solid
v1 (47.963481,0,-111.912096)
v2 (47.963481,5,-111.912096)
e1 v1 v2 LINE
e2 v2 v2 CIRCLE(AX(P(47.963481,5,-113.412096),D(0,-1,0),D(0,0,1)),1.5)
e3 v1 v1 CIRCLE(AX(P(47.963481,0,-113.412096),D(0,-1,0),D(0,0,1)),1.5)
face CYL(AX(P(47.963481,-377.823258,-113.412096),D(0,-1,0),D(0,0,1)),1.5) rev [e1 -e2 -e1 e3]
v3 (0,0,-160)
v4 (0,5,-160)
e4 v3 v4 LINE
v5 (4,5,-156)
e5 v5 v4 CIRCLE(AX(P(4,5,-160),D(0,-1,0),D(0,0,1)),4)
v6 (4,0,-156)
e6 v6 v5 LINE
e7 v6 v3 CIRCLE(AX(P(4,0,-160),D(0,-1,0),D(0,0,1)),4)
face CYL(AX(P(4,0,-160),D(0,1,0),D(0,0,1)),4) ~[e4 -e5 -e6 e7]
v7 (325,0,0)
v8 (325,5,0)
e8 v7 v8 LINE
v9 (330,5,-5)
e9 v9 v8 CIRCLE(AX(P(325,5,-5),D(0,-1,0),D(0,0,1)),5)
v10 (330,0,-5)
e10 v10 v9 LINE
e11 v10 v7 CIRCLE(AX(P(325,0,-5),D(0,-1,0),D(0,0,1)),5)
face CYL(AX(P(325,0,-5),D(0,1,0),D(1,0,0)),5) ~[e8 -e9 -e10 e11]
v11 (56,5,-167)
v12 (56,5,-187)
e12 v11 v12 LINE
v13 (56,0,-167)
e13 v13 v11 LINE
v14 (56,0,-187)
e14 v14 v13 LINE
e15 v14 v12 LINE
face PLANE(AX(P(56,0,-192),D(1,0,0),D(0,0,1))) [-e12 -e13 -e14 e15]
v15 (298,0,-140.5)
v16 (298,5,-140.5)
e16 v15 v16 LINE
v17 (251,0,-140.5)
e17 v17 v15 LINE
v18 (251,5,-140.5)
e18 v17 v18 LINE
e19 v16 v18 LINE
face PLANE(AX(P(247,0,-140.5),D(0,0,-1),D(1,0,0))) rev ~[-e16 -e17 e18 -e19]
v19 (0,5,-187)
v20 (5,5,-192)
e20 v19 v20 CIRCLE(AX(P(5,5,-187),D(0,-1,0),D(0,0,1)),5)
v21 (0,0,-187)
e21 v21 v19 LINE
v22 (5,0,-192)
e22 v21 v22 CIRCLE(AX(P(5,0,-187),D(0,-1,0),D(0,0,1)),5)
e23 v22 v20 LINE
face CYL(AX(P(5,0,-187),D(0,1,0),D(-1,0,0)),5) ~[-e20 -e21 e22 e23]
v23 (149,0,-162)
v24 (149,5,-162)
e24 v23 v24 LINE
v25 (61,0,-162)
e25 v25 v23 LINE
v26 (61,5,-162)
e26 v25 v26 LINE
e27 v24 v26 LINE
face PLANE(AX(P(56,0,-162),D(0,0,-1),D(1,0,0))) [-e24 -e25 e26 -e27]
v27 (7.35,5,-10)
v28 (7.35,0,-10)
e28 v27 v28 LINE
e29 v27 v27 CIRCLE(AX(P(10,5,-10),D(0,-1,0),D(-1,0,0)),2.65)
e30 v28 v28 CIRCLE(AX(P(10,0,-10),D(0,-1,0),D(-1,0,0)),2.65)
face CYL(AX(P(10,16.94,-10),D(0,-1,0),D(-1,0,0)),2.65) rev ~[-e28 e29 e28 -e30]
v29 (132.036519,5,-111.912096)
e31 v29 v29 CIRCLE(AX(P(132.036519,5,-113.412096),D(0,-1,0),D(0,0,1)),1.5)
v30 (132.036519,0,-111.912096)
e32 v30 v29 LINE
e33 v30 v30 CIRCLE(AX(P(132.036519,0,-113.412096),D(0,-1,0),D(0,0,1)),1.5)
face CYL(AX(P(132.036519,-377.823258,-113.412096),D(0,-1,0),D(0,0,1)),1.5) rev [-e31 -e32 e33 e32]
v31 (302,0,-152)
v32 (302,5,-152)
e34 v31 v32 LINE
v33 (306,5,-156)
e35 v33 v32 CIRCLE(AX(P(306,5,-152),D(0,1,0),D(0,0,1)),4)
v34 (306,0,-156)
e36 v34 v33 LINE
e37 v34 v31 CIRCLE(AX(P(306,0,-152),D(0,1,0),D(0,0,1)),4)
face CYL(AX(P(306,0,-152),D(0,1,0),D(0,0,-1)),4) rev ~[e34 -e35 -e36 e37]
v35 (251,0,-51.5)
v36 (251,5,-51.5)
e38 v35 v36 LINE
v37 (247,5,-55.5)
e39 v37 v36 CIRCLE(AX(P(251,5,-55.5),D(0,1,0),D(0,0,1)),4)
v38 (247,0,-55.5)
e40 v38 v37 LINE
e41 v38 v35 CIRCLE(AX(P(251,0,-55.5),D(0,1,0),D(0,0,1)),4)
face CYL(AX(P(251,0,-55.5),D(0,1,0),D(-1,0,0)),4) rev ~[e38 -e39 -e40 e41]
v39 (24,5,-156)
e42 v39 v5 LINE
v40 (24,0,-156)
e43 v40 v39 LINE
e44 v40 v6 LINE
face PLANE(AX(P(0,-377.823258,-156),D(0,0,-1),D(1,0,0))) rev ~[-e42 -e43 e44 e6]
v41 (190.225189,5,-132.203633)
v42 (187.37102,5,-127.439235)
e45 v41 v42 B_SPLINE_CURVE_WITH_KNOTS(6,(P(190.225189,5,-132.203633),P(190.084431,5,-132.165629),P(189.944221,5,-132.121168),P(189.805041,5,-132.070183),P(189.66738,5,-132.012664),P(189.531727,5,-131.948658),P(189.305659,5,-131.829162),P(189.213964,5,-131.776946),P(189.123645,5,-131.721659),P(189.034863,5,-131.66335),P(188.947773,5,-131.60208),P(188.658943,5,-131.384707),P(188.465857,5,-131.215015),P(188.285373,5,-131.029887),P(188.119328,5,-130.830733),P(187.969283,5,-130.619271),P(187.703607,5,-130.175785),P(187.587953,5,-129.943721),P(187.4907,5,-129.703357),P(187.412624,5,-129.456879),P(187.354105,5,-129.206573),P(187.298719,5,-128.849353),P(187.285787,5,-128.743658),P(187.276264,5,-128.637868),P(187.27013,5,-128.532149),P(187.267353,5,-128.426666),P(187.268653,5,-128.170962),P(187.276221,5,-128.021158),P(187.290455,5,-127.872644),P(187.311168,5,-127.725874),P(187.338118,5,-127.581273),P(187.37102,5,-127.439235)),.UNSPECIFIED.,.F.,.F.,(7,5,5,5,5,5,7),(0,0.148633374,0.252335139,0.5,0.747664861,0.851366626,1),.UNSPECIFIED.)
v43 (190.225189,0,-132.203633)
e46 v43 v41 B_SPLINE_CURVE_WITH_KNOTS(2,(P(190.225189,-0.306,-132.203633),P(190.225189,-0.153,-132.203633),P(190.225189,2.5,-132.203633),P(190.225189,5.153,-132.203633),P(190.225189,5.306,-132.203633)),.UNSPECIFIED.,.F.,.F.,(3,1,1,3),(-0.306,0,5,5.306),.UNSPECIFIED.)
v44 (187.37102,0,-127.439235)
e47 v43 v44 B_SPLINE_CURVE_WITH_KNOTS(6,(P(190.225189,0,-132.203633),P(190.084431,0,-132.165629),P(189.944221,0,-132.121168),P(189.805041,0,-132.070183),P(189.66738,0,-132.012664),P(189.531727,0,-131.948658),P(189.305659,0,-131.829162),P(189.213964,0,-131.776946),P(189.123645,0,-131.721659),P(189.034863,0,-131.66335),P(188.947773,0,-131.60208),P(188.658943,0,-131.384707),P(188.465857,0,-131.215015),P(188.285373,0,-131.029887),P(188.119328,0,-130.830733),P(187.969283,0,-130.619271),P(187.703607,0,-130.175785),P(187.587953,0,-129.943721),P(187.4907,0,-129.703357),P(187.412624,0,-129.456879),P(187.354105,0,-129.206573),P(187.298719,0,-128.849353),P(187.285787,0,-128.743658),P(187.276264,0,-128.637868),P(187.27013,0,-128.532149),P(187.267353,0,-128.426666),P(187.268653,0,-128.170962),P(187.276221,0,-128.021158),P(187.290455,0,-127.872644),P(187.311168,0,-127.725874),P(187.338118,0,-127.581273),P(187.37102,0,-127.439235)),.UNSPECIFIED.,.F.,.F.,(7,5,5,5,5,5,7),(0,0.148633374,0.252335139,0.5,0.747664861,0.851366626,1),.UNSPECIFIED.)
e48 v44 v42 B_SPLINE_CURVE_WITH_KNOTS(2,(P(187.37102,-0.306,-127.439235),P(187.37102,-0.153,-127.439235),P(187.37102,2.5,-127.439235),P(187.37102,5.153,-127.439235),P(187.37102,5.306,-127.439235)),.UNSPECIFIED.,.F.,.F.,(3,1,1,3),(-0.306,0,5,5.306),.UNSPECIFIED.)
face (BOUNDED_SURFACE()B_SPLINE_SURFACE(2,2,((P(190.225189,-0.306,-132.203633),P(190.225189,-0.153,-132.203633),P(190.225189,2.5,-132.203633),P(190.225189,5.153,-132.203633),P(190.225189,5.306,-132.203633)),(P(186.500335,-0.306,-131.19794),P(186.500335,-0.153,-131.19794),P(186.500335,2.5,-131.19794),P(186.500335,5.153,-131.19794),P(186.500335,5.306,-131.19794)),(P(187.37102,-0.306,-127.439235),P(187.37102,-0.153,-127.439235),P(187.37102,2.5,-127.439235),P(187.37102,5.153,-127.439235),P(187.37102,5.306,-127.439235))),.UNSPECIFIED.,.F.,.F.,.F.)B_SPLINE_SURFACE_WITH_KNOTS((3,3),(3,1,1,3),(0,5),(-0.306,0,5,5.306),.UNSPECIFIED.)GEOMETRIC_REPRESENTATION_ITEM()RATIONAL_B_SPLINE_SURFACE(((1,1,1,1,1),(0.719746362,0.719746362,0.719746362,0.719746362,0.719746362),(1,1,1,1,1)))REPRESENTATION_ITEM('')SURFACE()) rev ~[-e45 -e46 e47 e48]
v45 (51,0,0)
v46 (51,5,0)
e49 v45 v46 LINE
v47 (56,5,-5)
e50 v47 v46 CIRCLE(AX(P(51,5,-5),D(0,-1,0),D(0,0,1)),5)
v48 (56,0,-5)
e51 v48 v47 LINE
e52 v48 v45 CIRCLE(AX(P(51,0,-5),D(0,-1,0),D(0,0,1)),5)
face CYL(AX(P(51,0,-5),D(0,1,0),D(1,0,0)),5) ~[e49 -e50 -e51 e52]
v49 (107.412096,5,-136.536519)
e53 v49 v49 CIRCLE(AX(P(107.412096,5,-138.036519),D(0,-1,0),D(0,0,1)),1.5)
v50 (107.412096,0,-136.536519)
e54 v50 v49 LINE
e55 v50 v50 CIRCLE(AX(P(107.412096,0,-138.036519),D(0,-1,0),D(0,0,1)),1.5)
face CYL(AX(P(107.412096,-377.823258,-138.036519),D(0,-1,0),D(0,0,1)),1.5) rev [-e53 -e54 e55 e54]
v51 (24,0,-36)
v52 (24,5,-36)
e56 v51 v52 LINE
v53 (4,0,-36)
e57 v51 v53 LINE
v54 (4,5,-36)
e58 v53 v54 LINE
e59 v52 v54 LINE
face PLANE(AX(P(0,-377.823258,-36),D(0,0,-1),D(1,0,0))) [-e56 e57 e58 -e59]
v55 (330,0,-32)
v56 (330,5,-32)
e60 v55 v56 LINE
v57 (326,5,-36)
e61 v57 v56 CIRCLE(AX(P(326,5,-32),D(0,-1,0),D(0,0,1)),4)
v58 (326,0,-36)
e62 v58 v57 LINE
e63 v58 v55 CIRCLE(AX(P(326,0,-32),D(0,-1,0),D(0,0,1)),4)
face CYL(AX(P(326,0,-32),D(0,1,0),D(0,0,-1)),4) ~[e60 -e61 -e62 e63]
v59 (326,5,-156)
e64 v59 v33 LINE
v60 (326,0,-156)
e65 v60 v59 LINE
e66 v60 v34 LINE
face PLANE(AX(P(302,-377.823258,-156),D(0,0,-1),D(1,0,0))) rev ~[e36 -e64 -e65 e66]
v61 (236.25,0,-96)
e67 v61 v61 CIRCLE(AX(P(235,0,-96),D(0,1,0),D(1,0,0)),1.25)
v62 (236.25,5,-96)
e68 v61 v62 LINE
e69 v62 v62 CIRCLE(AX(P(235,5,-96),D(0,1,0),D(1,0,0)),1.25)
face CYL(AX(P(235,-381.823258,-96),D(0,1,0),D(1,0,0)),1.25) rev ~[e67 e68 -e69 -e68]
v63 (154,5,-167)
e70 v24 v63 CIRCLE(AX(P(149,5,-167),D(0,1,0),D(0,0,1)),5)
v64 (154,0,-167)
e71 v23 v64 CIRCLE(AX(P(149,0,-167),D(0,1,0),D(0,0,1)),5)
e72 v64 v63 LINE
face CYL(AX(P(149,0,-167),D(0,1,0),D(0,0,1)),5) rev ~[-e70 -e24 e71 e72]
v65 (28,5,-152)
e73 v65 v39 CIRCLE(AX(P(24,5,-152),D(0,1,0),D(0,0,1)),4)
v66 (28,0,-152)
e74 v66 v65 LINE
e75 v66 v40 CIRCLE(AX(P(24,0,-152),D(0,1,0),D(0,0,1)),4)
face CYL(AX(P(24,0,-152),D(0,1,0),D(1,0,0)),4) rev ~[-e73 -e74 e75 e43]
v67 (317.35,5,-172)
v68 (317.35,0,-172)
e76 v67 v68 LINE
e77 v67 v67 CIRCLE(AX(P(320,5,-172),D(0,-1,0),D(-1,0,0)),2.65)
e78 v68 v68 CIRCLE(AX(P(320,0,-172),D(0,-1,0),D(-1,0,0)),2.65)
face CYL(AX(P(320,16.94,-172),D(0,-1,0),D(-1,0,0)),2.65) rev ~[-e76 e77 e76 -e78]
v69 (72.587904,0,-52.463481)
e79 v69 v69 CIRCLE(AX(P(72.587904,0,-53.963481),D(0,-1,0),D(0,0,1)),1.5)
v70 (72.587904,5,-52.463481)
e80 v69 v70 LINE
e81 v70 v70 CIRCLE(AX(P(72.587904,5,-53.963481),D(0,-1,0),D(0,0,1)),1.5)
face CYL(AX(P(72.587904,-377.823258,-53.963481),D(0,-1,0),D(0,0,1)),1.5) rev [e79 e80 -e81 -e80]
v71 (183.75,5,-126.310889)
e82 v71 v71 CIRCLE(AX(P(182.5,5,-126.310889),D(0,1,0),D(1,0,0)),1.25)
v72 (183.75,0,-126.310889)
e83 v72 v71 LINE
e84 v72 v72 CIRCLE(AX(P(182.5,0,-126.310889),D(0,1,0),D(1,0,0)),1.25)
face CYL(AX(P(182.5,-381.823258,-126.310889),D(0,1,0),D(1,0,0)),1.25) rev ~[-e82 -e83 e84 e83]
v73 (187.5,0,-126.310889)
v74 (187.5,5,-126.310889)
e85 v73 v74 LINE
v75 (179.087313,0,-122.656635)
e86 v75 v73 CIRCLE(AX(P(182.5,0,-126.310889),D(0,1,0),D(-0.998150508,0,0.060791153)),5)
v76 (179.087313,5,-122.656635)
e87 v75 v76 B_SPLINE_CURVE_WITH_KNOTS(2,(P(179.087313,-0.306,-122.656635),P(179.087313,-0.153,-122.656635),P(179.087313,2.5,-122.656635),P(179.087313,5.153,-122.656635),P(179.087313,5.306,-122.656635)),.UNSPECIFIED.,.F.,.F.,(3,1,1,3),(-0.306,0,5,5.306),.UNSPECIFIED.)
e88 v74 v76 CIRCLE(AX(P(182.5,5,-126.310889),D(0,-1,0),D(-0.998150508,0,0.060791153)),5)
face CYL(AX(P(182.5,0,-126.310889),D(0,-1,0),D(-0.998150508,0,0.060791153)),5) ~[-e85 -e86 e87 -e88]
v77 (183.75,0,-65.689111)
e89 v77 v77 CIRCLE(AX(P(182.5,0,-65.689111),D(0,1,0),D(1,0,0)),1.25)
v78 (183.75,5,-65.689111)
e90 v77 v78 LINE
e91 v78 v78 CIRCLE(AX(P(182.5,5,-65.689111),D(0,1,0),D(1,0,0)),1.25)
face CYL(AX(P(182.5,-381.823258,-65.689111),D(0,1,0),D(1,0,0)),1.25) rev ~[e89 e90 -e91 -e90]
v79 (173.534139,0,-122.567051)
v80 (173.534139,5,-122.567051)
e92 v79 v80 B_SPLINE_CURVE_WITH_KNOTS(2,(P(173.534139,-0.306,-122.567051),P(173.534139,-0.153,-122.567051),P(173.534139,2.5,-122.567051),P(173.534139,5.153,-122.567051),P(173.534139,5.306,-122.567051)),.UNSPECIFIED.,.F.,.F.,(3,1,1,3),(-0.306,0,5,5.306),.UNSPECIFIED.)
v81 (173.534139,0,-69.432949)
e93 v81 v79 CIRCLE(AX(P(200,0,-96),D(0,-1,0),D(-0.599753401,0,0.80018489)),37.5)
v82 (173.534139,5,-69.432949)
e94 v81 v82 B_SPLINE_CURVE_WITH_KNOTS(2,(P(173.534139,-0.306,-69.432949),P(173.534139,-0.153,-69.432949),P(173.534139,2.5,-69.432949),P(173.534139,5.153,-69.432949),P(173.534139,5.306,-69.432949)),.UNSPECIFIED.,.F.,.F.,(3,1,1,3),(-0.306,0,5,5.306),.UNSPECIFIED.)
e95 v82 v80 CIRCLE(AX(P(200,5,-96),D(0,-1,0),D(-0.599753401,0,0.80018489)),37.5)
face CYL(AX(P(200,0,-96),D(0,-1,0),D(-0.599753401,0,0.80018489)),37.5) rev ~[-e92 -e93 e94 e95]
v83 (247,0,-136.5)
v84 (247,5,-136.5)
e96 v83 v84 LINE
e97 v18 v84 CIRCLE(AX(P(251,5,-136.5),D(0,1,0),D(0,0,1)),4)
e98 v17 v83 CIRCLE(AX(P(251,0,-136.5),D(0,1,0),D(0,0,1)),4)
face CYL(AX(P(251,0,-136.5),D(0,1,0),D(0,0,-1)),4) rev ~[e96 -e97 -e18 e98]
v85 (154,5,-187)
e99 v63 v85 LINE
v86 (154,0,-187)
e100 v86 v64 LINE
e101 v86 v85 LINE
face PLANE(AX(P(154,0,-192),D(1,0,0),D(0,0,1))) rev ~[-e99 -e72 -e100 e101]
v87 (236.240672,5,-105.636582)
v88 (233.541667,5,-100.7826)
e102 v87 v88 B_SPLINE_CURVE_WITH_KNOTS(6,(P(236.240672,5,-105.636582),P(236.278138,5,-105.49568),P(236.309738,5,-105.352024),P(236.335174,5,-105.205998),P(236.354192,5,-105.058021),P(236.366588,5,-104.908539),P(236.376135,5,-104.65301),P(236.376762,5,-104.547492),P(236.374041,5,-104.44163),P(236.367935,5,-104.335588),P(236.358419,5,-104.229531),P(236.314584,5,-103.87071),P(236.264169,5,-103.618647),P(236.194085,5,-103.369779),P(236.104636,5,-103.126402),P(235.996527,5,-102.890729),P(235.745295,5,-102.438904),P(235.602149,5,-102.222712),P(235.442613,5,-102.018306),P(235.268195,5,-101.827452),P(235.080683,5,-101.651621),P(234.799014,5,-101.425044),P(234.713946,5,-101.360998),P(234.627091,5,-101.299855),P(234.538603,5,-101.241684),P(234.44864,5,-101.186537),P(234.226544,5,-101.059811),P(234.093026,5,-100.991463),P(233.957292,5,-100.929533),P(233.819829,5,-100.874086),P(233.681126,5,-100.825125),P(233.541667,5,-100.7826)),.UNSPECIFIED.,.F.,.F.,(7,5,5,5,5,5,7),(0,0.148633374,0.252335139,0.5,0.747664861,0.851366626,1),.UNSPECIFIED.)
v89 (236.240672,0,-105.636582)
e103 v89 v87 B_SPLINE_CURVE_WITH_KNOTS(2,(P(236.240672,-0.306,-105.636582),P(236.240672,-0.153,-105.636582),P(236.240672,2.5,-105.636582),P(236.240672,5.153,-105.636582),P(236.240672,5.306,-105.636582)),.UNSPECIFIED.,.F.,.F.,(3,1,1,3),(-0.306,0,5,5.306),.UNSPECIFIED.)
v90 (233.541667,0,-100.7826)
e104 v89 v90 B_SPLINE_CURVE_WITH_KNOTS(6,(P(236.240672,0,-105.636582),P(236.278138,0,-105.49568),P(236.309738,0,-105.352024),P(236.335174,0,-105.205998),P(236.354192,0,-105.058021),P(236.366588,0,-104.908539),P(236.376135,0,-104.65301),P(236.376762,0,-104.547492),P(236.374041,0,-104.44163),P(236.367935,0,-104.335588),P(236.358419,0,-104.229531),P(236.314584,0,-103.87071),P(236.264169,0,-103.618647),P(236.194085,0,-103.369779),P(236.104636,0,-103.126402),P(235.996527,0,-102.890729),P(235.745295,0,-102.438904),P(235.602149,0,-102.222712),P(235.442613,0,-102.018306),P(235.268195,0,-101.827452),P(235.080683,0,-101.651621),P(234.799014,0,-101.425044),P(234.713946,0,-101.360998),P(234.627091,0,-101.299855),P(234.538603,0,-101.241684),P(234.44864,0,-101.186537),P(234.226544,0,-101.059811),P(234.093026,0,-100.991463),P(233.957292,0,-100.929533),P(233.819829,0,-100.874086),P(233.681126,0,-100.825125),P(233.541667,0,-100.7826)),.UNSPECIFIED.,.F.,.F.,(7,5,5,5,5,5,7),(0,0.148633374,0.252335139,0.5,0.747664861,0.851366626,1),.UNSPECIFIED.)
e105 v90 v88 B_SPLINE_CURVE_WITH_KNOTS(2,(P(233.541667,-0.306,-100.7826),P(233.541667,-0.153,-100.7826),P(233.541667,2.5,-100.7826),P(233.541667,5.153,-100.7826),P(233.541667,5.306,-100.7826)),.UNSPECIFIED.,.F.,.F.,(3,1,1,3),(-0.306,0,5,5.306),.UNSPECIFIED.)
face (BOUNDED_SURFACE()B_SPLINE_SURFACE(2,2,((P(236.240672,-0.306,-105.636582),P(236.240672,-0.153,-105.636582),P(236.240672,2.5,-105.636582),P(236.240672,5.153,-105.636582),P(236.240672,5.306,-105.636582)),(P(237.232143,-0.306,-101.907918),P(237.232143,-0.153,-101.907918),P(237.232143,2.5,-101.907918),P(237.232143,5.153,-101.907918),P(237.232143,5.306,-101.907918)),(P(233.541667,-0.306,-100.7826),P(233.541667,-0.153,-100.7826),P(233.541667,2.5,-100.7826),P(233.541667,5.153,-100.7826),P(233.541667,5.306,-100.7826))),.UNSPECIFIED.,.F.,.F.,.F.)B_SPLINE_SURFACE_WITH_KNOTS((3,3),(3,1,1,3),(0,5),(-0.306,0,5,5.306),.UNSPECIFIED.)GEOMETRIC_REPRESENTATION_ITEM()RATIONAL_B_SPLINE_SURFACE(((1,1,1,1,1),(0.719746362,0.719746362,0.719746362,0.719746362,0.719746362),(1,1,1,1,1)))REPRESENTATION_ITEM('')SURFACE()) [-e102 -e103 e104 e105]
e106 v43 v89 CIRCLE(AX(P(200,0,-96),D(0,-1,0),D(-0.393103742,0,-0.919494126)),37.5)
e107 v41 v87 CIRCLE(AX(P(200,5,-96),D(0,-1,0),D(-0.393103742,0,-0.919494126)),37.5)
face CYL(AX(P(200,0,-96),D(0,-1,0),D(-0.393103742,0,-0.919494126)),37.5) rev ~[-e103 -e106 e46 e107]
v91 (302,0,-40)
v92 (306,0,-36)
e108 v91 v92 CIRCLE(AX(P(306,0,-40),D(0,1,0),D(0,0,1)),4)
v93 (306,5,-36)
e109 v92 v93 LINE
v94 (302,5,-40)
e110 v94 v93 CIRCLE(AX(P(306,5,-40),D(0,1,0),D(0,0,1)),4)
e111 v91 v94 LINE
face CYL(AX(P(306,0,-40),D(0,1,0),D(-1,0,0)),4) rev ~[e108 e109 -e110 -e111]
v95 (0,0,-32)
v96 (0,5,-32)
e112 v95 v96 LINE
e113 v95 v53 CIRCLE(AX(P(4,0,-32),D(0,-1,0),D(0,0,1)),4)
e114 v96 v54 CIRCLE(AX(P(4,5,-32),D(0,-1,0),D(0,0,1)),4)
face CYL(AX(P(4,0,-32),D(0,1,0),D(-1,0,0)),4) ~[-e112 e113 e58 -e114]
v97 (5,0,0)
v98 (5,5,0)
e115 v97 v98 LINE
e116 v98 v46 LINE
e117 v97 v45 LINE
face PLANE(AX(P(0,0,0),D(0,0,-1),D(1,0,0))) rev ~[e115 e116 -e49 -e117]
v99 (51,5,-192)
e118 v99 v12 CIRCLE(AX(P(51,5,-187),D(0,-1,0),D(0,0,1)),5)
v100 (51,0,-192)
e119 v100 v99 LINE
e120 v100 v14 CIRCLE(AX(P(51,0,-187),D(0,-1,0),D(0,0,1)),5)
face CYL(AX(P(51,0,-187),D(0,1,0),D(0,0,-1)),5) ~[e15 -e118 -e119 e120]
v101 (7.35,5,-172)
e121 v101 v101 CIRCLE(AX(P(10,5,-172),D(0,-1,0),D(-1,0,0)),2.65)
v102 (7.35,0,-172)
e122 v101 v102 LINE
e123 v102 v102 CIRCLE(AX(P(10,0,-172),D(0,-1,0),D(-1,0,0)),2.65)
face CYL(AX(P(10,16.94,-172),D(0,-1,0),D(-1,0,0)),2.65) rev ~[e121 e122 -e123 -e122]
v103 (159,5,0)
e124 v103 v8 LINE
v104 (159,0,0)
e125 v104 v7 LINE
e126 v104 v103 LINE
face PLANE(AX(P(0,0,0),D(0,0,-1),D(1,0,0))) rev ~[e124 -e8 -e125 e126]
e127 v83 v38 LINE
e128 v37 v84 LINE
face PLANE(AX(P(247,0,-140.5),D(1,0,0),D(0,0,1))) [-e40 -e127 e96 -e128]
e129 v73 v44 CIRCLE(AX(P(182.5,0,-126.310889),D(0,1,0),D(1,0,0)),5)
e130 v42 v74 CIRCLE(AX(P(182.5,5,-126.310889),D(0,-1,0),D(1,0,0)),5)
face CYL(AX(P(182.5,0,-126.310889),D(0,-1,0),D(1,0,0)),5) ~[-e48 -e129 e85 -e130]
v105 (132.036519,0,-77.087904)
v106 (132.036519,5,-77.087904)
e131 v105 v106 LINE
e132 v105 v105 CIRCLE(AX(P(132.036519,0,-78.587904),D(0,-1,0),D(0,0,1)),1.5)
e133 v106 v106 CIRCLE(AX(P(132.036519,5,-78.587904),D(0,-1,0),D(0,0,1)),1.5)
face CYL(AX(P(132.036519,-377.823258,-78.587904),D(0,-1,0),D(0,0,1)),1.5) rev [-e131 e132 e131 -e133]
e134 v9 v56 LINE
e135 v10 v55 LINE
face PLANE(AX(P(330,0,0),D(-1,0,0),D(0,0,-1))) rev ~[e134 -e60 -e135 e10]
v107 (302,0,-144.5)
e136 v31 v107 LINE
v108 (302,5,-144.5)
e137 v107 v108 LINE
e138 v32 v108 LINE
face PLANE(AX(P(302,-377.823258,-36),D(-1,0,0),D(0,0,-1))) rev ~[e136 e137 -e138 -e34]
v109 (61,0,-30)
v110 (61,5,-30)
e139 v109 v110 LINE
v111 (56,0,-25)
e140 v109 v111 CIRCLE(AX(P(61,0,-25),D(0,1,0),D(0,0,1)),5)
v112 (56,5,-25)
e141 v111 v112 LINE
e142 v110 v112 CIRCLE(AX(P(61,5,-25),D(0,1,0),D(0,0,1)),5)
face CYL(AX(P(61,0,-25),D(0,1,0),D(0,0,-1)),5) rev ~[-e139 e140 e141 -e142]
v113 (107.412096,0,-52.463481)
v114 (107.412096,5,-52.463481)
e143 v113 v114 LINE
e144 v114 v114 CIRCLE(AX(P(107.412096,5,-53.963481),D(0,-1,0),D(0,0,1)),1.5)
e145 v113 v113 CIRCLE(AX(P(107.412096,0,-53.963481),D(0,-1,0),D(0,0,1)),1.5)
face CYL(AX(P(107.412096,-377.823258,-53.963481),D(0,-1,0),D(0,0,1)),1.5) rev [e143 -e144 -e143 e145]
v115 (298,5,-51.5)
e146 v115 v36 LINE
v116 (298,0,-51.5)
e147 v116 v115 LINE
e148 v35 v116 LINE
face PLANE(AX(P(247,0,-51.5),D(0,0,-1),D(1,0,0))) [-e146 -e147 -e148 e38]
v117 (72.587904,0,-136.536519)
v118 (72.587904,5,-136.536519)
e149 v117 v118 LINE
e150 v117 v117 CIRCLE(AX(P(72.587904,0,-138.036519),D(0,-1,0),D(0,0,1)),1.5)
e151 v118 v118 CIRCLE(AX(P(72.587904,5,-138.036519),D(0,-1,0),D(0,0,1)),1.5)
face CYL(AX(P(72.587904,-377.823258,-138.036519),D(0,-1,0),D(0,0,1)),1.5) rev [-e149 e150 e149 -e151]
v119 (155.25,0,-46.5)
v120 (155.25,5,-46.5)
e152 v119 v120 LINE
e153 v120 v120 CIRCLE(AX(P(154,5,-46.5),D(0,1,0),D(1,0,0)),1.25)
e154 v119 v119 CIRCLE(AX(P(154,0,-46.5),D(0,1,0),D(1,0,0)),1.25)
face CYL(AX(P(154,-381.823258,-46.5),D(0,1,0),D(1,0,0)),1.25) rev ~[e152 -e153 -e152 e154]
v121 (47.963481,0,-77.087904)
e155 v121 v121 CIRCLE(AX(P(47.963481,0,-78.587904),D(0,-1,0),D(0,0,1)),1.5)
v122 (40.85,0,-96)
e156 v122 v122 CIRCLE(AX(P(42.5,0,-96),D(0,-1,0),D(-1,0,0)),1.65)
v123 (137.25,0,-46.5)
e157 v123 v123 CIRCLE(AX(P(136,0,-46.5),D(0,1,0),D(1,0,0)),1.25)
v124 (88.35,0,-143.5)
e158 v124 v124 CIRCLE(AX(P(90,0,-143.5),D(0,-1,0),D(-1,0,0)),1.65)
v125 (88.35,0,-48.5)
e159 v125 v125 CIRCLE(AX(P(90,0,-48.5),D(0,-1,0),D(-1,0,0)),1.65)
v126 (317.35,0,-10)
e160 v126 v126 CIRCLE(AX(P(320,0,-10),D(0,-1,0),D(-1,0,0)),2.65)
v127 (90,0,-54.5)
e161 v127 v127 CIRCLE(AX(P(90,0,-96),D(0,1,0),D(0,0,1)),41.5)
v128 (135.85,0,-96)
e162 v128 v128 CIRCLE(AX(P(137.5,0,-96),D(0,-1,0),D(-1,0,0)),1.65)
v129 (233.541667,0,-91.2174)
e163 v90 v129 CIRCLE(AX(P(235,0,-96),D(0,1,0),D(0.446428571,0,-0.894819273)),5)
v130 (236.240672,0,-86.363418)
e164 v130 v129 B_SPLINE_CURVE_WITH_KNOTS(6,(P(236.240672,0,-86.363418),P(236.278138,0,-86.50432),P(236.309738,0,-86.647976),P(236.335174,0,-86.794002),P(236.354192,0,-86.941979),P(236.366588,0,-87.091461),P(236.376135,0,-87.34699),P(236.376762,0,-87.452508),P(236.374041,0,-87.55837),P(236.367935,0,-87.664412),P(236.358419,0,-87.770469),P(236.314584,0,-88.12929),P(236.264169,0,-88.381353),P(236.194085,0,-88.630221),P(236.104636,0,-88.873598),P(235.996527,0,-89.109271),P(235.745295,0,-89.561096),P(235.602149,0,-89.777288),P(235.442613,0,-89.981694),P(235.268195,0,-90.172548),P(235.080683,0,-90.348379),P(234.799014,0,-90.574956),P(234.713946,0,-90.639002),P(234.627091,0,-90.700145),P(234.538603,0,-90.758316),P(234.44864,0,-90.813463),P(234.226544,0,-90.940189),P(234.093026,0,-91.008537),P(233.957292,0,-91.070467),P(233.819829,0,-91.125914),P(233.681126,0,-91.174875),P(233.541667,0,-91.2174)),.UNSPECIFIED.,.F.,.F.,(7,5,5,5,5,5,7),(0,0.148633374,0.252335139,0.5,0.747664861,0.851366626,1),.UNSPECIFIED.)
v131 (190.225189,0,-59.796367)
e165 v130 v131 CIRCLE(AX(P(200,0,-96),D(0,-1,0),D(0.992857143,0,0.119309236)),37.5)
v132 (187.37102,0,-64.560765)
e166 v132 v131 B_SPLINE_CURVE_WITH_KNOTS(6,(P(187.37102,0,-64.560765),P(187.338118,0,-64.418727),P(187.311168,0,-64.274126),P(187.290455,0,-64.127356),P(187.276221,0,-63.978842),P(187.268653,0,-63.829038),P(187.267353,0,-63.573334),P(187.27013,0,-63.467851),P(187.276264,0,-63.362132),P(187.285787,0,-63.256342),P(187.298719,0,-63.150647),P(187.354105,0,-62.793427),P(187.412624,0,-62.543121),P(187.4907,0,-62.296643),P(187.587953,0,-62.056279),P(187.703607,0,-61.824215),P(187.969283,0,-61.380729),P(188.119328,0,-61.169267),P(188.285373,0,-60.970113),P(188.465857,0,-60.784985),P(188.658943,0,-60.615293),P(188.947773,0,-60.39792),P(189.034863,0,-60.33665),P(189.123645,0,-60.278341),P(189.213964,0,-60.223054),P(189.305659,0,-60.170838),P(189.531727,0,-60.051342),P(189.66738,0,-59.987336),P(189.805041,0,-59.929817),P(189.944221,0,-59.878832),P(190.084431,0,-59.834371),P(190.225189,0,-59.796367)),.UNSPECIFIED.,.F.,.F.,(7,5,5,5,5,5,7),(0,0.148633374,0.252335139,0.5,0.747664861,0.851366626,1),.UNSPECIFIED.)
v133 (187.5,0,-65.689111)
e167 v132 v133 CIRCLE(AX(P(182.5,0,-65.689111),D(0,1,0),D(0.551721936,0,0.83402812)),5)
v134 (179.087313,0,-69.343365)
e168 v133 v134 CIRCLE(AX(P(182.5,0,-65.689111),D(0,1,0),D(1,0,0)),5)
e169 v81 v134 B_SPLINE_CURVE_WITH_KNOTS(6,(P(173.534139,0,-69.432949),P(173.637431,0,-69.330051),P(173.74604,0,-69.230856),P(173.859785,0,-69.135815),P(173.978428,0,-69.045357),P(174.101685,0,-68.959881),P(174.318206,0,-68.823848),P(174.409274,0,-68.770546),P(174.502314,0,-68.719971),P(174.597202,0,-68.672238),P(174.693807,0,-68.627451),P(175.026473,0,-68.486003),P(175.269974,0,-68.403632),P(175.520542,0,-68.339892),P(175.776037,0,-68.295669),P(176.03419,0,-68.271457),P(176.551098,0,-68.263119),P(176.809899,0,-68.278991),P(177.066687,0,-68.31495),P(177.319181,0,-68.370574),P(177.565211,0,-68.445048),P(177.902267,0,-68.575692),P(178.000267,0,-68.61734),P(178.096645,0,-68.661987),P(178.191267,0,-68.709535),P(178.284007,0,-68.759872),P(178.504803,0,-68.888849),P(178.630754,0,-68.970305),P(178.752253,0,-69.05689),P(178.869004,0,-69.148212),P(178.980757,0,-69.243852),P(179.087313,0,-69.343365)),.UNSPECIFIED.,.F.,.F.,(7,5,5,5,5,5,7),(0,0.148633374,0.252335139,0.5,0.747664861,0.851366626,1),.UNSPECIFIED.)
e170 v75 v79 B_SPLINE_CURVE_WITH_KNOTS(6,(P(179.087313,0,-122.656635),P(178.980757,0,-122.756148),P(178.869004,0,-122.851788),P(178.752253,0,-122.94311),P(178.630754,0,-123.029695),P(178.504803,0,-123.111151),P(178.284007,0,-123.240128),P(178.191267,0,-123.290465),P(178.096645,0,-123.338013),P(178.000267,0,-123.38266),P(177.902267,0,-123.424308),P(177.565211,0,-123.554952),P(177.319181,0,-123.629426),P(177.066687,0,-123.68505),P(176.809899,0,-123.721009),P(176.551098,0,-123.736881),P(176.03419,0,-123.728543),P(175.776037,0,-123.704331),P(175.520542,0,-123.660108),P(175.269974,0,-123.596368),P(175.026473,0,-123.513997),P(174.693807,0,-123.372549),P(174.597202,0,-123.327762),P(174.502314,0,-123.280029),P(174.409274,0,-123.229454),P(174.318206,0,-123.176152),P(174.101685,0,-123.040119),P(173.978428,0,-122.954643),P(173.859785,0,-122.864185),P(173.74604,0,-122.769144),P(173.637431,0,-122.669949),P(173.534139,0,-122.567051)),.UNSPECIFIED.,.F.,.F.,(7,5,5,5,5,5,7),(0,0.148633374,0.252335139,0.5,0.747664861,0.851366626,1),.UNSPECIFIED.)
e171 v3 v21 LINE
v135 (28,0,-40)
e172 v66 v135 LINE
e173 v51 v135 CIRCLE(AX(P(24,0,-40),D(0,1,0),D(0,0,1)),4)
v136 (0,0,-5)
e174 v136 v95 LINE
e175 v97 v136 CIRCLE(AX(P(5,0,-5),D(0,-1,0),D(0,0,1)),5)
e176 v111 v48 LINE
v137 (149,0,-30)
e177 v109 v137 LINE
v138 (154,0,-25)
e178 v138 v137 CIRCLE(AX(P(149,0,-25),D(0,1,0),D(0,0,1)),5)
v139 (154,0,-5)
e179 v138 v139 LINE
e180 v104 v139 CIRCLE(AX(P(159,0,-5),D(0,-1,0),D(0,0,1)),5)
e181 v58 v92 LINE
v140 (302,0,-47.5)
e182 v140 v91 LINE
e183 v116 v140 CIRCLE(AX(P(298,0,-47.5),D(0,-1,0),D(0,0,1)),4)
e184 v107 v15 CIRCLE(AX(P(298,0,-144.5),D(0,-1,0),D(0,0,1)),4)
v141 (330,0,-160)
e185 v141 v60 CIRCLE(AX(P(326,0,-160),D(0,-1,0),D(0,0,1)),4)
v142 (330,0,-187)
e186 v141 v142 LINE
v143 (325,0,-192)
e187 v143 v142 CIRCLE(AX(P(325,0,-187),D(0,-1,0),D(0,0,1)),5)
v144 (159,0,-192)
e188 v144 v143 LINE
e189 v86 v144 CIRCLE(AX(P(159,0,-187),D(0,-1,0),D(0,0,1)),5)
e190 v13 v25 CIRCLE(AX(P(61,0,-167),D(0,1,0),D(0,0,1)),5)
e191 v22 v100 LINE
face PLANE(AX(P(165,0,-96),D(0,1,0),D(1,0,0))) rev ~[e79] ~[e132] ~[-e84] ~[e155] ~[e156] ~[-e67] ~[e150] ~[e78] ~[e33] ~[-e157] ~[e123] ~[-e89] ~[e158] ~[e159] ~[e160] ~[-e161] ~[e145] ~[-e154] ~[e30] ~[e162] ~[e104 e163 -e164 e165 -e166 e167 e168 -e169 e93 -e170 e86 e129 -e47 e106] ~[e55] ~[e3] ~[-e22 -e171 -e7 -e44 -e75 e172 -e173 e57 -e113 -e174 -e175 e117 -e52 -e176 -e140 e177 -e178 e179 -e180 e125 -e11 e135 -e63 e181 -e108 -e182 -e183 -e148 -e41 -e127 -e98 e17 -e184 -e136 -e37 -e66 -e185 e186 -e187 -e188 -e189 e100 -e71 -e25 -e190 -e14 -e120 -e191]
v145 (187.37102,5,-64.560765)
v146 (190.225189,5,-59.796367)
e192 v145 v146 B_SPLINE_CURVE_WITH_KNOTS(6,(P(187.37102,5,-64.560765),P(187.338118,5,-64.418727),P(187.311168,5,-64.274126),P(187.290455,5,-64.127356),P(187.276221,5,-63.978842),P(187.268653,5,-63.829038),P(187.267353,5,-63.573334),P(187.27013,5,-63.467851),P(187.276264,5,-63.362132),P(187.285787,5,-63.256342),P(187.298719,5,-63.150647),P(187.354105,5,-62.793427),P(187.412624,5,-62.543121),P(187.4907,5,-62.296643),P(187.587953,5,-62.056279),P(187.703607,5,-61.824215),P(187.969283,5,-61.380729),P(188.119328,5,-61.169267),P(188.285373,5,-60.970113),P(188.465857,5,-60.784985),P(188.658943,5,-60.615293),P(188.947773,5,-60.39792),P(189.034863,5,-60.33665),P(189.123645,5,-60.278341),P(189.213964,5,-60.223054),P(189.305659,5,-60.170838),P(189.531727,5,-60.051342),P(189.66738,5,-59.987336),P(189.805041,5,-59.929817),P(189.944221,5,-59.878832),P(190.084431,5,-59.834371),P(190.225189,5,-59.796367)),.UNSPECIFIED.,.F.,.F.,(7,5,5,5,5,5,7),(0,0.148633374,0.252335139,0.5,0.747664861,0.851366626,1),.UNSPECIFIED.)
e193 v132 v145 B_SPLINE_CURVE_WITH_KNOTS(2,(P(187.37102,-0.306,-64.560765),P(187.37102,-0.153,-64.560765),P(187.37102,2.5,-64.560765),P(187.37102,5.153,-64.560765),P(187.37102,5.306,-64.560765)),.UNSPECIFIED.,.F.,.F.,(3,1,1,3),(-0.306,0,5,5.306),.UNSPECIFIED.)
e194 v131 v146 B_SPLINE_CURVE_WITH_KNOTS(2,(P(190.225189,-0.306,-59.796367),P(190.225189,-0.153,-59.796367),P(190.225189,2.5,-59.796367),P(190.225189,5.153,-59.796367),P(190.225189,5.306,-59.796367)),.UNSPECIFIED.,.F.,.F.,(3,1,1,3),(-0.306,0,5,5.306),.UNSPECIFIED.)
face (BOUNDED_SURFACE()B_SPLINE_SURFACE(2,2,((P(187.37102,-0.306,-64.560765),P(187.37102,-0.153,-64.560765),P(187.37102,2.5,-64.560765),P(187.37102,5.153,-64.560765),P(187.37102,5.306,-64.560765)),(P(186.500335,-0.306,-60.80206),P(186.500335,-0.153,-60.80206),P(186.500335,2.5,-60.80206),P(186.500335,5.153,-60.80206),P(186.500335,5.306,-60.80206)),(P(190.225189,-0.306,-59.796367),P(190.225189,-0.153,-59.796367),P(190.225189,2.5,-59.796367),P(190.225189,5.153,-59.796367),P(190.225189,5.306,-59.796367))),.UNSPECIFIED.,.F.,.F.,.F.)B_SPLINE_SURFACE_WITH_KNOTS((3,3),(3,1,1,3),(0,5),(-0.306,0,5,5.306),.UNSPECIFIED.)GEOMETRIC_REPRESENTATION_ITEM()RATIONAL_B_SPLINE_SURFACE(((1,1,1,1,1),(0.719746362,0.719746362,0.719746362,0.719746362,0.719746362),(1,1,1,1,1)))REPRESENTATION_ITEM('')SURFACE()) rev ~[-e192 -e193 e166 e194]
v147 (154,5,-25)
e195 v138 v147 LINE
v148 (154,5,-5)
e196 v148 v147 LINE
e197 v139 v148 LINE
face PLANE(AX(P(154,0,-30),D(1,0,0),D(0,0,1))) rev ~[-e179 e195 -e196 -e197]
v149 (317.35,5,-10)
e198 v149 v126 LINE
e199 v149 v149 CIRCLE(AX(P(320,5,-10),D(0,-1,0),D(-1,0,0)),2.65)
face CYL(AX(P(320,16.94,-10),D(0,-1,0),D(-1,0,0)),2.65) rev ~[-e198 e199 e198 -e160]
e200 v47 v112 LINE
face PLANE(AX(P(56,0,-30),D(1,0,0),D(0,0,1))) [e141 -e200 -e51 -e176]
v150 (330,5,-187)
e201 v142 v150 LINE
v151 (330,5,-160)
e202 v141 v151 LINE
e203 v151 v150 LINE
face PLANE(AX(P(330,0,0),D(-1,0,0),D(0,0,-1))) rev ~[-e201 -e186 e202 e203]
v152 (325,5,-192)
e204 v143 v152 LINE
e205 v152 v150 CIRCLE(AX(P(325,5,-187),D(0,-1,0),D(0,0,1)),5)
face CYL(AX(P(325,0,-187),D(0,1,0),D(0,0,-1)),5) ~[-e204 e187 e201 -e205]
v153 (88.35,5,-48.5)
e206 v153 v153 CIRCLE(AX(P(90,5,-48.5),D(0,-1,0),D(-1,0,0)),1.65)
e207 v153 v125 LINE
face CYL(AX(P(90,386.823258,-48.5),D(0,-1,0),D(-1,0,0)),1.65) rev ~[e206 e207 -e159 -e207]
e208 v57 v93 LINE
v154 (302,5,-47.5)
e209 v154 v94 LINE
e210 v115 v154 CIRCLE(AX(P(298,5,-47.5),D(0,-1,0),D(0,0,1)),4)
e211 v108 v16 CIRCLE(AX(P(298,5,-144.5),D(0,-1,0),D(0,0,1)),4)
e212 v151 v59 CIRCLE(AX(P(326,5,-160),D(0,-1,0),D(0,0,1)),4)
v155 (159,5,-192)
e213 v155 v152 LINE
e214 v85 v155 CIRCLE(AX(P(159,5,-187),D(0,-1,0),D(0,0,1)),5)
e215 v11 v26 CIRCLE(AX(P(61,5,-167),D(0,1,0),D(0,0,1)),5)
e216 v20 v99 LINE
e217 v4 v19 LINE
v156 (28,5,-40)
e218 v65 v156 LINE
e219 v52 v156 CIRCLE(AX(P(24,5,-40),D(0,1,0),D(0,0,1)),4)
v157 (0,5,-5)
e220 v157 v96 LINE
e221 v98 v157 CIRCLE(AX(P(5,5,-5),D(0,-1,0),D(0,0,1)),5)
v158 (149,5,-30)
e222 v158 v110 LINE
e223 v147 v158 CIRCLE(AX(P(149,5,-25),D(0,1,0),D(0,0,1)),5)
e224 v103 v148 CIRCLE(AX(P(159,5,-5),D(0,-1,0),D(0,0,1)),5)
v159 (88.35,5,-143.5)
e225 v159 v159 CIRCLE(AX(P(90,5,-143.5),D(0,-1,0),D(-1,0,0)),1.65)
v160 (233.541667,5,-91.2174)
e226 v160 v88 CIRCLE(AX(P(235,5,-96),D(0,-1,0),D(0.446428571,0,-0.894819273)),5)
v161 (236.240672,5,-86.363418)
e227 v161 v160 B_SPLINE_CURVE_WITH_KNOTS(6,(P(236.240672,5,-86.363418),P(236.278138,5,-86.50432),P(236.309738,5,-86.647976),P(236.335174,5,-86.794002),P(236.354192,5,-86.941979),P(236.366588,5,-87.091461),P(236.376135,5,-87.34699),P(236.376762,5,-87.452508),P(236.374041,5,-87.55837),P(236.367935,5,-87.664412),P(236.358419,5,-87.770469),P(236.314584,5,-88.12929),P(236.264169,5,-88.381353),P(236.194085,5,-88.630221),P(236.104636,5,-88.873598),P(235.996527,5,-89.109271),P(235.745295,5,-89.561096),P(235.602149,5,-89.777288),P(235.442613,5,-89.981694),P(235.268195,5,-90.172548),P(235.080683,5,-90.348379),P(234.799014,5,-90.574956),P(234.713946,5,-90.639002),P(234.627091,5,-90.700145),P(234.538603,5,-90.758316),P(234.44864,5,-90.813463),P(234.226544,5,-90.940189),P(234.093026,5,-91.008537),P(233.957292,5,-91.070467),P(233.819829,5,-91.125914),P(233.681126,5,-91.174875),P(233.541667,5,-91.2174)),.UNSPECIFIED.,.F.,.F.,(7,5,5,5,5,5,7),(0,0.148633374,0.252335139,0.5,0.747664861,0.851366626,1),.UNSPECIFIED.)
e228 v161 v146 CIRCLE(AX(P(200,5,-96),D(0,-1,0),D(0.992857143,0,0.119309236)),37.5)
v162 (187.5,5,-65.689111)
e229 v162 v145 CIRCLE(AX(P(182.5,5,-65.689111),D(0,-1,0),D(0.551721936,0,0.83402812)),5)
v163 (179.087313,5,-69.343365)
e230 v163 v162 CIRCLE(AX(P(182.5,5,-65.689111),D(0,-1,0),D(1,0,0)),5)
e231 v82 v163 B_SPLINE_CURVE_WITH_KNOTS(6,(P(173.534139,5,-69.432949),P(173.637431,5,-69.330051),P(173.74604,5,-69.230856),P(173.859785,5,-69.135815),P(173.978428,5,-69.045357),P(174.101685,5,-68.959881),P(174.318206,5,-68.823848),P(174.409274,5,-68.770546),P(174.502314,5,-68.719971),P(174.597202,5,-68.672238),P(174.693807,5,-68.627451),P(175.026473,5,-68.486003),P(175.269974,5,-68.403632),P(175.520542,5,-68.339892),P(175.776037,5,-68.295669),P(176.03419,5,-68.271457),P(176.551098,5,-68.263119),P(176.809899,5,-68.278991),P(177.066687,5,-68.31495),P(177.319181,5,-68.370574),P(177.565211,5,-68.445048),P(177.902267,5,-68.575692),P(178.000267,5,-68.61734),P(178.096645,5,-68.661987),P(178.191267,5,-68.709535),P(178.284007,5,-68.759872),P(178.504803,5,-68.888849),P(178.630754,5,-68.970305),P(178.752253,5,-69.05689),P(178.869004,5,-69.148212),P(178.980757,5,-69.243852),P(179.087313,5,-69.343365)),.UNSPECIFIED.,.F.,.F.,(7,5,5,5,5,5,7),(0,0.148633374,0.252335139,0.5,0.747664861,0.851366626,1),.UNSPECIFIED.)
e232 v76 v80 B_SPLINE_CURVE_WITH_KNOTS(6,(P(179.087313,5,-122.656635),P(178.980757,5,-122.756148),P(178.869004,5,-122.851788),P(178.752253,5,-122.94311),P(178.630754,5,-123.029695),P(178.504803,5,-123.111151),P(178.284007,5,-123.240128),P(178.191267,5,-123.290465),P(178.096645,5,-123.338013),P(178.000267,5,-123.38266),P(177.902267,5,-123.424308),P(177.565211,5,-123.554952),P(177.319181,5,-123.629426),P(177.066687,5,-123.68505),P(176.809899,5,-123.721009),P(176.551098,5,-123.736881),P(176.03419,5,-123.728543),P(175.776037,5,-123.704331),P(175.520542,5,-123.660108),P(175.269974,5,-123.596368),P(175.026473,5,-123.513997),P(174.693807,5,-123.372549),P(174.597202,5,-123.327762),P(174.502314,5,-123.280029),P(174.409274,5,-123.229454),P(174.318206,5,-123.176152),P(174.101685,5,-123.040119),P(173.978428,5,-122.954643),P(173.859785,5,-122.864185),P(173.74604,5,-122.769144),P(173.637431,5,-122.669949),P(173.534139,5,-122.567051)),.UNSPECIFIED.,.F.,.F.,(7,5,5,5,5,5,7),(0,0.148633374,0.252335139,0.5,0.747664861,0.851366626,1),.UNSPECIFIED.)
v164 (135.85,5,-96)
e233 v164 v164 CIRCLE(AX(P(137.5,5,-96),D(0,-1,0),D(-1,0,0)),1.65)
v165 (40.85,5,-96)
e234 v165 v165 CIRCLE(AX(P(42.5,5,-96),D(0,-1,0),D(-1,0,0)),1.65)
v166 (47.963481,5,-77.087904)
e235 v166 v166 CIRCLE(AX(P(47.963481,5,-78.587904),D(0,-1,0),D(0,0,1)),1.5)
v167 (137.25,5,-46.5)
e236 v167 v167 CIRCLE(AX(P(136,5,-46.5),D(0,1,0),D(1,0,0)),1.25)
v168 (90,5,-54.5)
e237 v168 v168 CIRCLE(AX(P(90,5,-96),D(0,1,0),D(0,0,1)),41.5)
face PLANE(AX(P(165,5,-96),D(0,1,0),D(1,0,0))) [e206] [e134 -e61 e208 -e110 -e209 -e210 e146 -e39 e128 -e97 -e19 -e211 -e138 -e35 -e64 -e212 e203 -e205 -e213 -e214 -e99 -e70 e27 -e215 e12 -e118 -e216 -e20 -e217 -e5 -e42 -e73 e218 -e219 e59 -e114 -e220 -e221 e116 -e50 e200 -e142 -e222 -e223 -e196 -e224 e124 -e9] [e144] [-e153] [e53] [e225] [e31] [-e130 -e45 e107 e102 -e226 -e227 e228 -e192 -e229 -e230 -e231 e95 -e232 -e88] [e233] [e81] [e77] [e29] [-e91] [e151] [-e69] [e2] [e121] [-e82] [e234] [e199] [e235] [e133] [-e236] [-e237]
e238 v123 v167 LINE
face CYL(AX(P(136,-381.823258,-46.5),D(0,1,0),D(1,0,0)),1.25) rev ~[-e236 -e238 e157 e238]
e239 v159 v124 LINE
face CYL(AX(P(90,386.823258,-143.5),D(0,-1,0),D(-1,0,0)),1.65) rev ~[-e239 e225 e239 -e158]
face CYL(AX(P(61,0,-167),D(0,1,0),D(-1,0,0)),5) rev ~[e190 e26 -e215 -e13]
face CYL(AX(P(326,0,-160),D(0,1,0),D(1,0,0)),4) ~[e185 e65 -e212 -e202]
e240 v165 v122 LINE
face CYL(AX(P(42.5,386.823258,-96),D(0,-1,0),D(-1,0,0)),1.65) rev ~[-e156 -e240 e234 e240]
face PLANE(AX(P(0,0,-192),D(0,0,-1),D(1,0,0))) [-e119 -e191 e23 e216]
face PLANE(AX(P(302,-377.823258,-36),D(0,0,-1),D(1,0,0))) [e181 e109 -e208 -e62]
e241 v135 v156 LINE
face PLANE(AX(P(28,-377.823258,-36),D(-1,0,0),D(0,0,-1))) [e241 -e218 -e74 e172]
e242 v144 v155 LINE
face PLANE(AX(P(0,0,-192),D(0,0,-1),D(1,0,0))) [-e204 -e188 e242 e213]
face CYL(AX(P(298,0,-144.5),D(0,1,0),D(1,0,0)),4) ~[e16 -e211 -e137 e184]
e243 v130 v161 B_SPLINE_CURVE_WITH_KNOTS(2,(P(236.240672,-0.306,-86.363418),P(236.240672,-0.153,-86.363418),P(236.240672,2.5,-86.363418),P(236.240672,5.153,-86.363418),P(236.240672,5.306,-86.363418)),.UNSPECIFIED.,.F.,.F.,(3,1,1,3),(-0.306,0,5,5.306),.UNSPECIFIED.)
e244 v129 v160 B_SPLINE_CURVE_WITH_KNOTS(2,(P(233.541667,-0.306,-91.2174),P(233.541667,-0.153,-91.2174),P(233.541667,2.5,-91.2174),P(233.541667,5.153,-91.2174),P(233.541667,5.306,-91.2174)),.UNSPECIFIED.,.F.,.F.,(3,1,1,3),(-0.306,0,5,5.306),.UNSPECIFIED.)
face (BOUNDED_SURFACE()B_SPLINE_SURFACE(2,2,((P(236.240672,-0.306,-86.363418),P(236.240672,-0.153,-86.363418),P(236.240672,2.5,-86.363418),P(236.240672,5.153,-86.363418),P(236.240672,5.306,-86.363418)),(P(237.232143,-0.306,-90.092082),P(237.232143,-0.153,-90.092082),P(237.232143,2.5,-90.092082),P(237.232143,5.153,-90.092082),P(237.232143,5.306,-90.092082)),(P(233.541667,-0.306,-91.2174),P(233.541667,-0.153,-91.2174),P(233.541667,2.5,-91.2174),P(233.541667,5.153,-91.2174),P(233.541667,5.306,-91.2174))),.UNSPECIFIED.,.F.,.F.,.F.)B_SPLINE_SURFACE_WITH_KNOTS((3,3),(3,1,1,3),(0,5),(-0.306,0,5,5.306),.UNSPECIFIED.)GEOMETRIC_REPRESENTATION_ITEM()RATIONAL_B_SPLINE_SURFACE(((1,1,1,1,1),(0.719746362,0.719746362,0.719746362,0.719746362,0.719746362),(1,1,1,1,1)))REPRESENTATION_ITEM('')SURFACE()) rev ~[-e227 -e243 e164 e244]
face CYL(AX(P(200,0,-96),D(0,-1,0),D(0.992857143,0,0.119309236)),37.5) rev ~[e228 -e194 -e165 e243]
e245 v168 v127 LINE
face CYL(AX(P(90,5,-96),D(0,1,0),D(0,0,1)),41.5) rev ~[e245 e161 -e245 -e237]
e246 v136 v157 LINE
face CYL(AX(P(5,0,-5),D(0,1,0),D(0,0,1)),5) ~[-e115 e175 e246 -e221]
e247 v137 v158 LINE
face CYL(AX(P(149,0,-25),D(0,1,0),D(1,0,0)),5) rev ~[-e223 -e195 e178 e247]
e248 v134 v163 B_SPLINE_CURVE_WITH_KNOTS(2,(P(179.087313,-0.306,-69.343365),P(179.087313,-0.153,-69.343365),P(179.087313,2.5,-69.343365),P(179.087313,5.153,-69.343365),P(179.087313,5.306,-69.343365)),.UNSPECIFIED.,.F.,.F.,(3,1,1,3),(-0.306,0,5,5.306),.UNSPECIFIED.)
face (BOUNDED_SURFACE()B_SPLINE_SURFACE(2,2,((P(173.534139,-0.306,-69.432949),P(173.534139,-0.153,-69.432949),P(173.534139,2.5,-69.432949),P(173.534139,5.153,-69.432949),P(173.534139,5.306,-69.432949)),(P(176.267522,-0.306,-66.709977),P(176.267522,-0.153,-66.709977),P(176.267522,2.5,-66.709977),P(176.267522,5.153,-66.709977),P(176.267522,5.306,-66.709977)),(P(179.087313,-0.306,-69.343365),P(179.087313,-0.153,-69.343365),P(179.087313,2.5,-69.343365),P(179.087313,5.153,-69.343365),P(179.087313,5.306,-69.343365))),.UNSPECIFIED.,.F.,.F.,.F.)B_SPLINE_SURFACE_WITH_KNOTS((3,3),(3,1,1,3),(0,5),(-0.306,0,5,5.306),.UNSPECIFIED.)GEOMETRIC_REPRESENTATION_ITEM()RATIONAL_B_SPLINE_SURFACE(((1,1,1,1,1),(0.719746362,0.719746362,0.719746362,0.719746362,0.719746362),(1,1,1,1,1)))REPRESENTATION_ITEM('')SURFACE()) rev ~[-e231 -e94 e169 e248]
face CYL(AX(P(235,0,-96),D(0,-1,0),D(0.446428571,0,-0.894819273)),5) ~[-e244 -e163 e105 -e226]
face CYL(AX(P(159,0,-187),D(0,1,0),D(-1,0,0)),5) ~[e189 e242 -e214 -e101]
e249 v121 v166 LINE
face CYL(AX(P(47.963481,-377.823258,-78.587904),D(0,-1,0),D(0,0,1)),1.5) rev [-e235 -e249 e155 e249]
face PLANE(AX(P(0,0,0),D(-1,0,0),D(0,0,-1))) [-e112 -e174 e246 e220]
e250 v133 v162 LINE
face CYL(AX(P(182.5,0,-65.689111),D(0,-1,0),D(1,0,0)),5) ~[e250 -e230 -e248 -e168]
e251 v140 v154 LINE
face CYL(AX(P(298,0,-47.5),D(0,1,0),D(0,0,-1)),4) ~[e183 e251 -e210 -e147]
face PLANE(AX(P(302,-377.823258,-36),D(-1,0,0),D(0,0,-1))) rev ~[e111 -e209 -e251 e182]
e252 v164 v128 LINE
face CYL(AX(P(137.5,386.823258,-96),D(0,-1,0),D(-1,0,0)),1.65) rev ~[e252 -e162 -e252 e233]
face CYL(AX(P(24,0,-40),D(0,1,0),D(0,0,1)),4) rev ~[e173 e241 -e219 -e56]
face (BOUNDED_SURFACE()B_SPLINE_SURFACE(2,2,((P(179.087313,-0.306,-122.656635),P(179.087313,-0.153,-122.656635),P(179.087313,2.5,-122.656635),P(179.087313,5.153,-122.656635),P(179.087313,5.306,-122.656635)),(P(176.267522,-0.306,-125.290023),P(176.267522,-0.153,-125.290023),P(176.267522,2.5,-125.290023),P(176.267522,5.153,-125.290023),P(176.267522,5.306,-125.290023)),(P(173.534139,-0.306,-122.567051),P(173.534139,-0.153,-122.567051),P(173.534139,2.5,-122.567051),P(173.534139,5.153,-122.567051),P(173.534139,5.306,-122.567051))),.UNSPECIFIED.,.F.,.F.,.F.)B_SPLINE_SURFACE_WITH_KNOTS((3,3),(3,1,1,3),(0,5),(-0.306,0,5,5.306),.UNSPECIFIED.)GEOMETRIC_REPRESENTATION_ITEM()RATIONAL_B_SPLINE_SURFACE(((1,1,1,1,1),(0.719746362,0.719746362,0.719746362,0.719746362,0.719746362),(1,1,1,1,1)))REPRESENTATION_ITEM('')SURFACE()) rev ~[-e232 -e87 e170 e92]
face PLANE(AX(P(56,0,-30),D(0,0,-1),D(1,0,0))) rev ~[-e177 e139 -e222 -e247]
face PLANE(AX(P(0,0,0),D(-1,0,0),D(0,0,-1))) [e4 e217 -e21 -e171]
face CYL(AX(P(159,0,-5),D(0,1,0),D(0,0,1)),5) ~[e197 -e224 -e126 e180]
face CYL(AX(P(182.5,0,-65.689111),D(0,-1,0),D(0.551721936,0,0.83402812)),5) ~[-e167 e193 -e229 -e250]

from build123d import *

# Parameters (mm, degrees)
SKETCH1_W                = 330
SKETCH1_H                = 192
BOSS_EXTRUDE1_DEPTH      = 5
CUT_EXTRUDE1_DEPTH       = 382.823257542
CUT_EXTRUDE1_DEPTH_BACK  = 382.823257542
SKETCH2_R                = 1.5
SKETCH3_R                = 41.5
CUT_EXTRUDE2_DEPTH       = 382.823257542
M5_CLEARANCE_HOLE1_D     = 5.3
M5_CLEARANCE_HOLE1_DEPTH = 11.94
M5_CLEARANCE_HOLE1_TIP   = 1.59228064
TAP_DRILL_FOR_M4_TAP1_D  = 3.3
CUT_EXTRUDE3_DEPTH       = 382.823257542
CUT_EXTRUDE3_DEPTH_BACK  = 382.823257542
SKETCH19_W               = 28
SKETCH19_H               = 120
SKETCH21_W               = 55
SKETCH21_H               = 89
CUT_EXTRUDE4_DEPTH       = 382.823257542
FILLET1_R                = 4
TAP_DRILL_FOR_M3_TAP1_D  = 2.5
TAP_DRILL_FOR_M3_TAP2_D  = 2.5
CUT_EXTRUDE5_DEPTH       = 382.823257542
FILLET2_R                = 4
SKETCH33_W               = 98
SKETCH33_H               = 30
CUT_EXTRUDE6_DEPTH       = 382.82325768
FILLET3_R                = 5


with BuildPart() as part:
    # Sketch1 → Boss-Extrude1 (new body)
    with BuildSketch(Plane(origin=(0, 0, 0), x_dir=(1, 0, 0), z_dir=(0, 1, 0))):
        with Locations((165, 96)):
            Rectangle(SKETCH1_W, SKETCH1_H)
    extrude(amount=BOSS_EXTRUDE1_DEPTH)

    # Sketch2 → Cut-Extrude1 (cut, two sides: drawn at the far end of the back side and taken through both)
    with BuildSketch(Plane(origin=(0, 5, 0), x_dir=(1, 0, 0), z_dir=(0, 1, 0)).offset(-CUT_EXTRUDE1_DEPTH_BACK)):
        with Locations(Location((132.036518729, 113.412096173, 0), (0, 0, 270))):
            Circle(SKETCH2_R)
        with Locations(Location((132.036518729, 78.587903827, 0), (0, 0, 270))):
            Circle(SKETCH2_R)
        with Locations(Location((107.412096173, 53.963481271, 0), (0, 0, 270))):
            Circle(SKETCH2_R)
        with Locations(Location((72.587903827, 53.963481271, 0), (0, 0, 270))):
            Circle(SKETCH2_R)
        with Locations(Location((47.963481271, 78.587903827, 0), (0, 0, 270))):
            Circle(SKETCH2_R)
        with Locations(Location((47.963481271, 113.412096173, 0), (0, 0, 270))):
            Circle(SKETCH2_R)
        with Locations(Location((72.587903827, 138.036518729, 0), (0, 0, 270))):
            Circle(SKETCH2_R)
        with Locations(Location((107.412096173, 138.036518729, 0), (0, 0, 270))):
            Circle(SKETCH2_R)
    extrude(amount=CUT_EXTRUDE1_DEPTH + CUT_EXTRUDE1_DEPTH_BACK, mode=Mode.SUBTRACT)

    # Sketch3 → Cut-Extrude2 (cut, through all)
    with BuildSketch(Plane(origin=(0, 5, 0), x_dir=(1, 0, 0), z_dir=(0, 1, 0))):
        with Locations(Location((90, 96, 0), (0, 0, 270))):
            Circle(SKETCH3_R)
    extrude(amount=-CUT_EXTRUDE2_DEPTH, mode=Mode.SUBTRACT)

    # M5 Clearance Hole1
    with Locations(Plane(origin=(0, 5, 0), x_dir=(1, 0, 0), z_dir=(0, 1, 0))):
        with Locations((10, 172), (10, 10), (320, 10), (320, 172)):
            Hole(M5_CLEARANCE_HOLE1_D / 2, depth=M5_CLEARANCE_HOLE1_DEPTH)
            with Locations((0, 0, -(M5_CLEARANCE_HOLE1_DEPTH + M5_CLEARANCE_HOLE1_TIP / 2))):  # 118° drill point
                Cone(0, M5_CLEARANCE_HOLE1_D / 2, M5_CLEARANCE_HOLE1_TIP, mode=Mode.SUBTRACT)

    # Tap Drill for M4 Tap1 (through all)
    with Locations(Plane(origin=(0, 5, 0), x_dir=(1, 0, 0), z_dir=(0, 1, 0))):
        with Locations((137.5, 96), (90, 48.5), (42.5, 96), (90, 143.5)):
            Hole(TAP_DRILL_FOR_M4_TAP1_D / 2)

    # Sketch19 → Cut-Extrude3 (cut, two sides: drawn at the far end of the back side and taken through both)
    with BuildSketch(Plane(origin=(0, 5, 0), x_dir=(1, 0, 0), z_dir=(0, 1, 0)).offset(-CUT_EXTRUDE3_DEPTH_BACK)):
        with Locations((14, 96)):
            Rectangle(SKETCH19_W, SKETCH19_H)
        with Locations((316, 96)):
            Rectangle(SKETCH19_W, SKETCH19_H)
    extrude(amount=CUT_EXTRUDE3_DEPTH + CUT_EXTRUDE3_DEPTH_BACK, mode=Mode.SUBTRACT)

    # Sketch21 → Cut-Extrude4 (cut, through all)
    with BuildSketch(Plane.XZ):
        with Locations((274.5, -96)):
            Rectangle(SKETCH21_W, SKETCH21_H)
    extrude(amount=-CUT_EXTRUDE4_DEPTH, mode=Mode.SUBTRACT)

    # Fillet1
    fillet1_edges = [part.edges().sort_by_distance(p)[0] for p in [
        (0, 2.5, -36),
        (0, 2.5, -156),
        (28, 2.5, -156),
        (28, 2.5, -36),
        (330, 2.5, -156),
        (330, 2.5, -36),
        (302, 2.5, -36),
        (302, 2.5, -156),
        (302, 2.5, -51.5),
        (302, 2.5, -140.5),
        (247, 2.5, -140.5),
        (247, 2.5, -51.5),
    ]]
    fillet(fillet1_edges, radius=FILLET1_R)

    # Tap Drill for M3 Tap1 (through all)
    with Locations(Plane(origin=(0, 0, 0), x_dir=(-1, 0, 0), z_dir=(0, -1, 0))):
        with Locations((-182.5, 126.310889132), (-182.5, 65.689110868), (-235, 96)):
            Hole(TAP_DRILL_FOR_M3_TAP1_D / 2)

    # Tap Drill for M3 Tap2 (through all)
    with Locations(Plane(origin=(0, 0, 0), x_dir=(-1, 0, 0), z_dir=(0, -1, 0))):
        with Locations((-154, 46.5), (-136, 46.5)):
            Hole(TAP_DRILL_FOR_M3_TAP2_D / 2)

    # Sketch32 → Cut-Extrude5 (cut, through all)
    with BuildSketch(Plane.XZ):
        with BuildLine():
            ThreePointArc((237.232142857, -100.474096363), (230, -96), (237.232142857, -91.525903637))
            ThreePointArc((237.232142857, -91.525903637), (218.75, -63.524047358), (185.258609681, -61.518970267))
            ThreePointArc((185.258609681, -61.518970267), (186.904148522, -63.321944672), (187.5, -65.689110868))
            ThreePointArc((187.5, -65.689110868), (182.6520482, -70.686798467), (177.509247462, -65.99306663))
            ThreePointArc((177.509247462, -65.99306663), (162.5, -96), (177.509247462, -126.00693337))
            ThreePointArc((177.509247462, -126.00693337), (182.6520482, -121.313201533), (187.5, -126.310889132))
            ThreePointArc((187.5, -126.310889132), (186.904148522, -128.678055328), (185.258609681, -130.481029733))
            ThreePointArc((185.258609681, -130.481029733), (218.75, -128.475952642), (237.232142857, -100.474096363))
        make_face()
    extrude(amount=-CUT_EXTRUDE5_DEPTH, mode=Mode.SUBTRACT)

    # Fillet2
    fillet2_edges = [part.edges().sort_by_distance(p)[0] for p in [
        (237.232142857, 2.5, -91.525903637),
        (237.232142857, 2.5, -100.474096363),
        (185.258609681, 2.5, -130.481029733),
        (177.509247462, 2.5, -126.00693337),
        (177.509247462, 2.5, -65.99306663),
        (185.258609681, 2.5, -61.518970267),
    ]]
    fillet(fillet2_edges, radius=FILLET2_R)

    # Sketch33 → Cut-Extrude6 (cut, through all)
    with BuildSketch(Plane.XZ):
        with Locations((105, -15)):
            Rectangle(SKETCH33_W, SKETCH33_H)
        with Locations((105, -177)):
            Rectangle(SKETCH33_W, SKETCH33_H)
    extrude(amount=-CUT_EXTRUDE6_DEPTH, mode=Mode.SUBTRACT)

    # Fillet3
    fillet3_edges = [part.edges().sort_by_distance(p)[0] for p in [
        (56, 2.5, -30),
        (56, 2.5, 0),
        (154, 2.5, 0),
        (154, 2.5, -30),
        (56, 2.5, -192),
        (56, 2.5, -162),
        (154, 2.5, -162),
        (154, 2.5, -192),
        (0, 2.5, -192),
        (330, 2.5, -192),
        (330, 2.5, 0),
        (0, 2.5, 0),
    ]]
    fillet(fillet3_edges, radius=FILLET3_R)


solid = part.part
